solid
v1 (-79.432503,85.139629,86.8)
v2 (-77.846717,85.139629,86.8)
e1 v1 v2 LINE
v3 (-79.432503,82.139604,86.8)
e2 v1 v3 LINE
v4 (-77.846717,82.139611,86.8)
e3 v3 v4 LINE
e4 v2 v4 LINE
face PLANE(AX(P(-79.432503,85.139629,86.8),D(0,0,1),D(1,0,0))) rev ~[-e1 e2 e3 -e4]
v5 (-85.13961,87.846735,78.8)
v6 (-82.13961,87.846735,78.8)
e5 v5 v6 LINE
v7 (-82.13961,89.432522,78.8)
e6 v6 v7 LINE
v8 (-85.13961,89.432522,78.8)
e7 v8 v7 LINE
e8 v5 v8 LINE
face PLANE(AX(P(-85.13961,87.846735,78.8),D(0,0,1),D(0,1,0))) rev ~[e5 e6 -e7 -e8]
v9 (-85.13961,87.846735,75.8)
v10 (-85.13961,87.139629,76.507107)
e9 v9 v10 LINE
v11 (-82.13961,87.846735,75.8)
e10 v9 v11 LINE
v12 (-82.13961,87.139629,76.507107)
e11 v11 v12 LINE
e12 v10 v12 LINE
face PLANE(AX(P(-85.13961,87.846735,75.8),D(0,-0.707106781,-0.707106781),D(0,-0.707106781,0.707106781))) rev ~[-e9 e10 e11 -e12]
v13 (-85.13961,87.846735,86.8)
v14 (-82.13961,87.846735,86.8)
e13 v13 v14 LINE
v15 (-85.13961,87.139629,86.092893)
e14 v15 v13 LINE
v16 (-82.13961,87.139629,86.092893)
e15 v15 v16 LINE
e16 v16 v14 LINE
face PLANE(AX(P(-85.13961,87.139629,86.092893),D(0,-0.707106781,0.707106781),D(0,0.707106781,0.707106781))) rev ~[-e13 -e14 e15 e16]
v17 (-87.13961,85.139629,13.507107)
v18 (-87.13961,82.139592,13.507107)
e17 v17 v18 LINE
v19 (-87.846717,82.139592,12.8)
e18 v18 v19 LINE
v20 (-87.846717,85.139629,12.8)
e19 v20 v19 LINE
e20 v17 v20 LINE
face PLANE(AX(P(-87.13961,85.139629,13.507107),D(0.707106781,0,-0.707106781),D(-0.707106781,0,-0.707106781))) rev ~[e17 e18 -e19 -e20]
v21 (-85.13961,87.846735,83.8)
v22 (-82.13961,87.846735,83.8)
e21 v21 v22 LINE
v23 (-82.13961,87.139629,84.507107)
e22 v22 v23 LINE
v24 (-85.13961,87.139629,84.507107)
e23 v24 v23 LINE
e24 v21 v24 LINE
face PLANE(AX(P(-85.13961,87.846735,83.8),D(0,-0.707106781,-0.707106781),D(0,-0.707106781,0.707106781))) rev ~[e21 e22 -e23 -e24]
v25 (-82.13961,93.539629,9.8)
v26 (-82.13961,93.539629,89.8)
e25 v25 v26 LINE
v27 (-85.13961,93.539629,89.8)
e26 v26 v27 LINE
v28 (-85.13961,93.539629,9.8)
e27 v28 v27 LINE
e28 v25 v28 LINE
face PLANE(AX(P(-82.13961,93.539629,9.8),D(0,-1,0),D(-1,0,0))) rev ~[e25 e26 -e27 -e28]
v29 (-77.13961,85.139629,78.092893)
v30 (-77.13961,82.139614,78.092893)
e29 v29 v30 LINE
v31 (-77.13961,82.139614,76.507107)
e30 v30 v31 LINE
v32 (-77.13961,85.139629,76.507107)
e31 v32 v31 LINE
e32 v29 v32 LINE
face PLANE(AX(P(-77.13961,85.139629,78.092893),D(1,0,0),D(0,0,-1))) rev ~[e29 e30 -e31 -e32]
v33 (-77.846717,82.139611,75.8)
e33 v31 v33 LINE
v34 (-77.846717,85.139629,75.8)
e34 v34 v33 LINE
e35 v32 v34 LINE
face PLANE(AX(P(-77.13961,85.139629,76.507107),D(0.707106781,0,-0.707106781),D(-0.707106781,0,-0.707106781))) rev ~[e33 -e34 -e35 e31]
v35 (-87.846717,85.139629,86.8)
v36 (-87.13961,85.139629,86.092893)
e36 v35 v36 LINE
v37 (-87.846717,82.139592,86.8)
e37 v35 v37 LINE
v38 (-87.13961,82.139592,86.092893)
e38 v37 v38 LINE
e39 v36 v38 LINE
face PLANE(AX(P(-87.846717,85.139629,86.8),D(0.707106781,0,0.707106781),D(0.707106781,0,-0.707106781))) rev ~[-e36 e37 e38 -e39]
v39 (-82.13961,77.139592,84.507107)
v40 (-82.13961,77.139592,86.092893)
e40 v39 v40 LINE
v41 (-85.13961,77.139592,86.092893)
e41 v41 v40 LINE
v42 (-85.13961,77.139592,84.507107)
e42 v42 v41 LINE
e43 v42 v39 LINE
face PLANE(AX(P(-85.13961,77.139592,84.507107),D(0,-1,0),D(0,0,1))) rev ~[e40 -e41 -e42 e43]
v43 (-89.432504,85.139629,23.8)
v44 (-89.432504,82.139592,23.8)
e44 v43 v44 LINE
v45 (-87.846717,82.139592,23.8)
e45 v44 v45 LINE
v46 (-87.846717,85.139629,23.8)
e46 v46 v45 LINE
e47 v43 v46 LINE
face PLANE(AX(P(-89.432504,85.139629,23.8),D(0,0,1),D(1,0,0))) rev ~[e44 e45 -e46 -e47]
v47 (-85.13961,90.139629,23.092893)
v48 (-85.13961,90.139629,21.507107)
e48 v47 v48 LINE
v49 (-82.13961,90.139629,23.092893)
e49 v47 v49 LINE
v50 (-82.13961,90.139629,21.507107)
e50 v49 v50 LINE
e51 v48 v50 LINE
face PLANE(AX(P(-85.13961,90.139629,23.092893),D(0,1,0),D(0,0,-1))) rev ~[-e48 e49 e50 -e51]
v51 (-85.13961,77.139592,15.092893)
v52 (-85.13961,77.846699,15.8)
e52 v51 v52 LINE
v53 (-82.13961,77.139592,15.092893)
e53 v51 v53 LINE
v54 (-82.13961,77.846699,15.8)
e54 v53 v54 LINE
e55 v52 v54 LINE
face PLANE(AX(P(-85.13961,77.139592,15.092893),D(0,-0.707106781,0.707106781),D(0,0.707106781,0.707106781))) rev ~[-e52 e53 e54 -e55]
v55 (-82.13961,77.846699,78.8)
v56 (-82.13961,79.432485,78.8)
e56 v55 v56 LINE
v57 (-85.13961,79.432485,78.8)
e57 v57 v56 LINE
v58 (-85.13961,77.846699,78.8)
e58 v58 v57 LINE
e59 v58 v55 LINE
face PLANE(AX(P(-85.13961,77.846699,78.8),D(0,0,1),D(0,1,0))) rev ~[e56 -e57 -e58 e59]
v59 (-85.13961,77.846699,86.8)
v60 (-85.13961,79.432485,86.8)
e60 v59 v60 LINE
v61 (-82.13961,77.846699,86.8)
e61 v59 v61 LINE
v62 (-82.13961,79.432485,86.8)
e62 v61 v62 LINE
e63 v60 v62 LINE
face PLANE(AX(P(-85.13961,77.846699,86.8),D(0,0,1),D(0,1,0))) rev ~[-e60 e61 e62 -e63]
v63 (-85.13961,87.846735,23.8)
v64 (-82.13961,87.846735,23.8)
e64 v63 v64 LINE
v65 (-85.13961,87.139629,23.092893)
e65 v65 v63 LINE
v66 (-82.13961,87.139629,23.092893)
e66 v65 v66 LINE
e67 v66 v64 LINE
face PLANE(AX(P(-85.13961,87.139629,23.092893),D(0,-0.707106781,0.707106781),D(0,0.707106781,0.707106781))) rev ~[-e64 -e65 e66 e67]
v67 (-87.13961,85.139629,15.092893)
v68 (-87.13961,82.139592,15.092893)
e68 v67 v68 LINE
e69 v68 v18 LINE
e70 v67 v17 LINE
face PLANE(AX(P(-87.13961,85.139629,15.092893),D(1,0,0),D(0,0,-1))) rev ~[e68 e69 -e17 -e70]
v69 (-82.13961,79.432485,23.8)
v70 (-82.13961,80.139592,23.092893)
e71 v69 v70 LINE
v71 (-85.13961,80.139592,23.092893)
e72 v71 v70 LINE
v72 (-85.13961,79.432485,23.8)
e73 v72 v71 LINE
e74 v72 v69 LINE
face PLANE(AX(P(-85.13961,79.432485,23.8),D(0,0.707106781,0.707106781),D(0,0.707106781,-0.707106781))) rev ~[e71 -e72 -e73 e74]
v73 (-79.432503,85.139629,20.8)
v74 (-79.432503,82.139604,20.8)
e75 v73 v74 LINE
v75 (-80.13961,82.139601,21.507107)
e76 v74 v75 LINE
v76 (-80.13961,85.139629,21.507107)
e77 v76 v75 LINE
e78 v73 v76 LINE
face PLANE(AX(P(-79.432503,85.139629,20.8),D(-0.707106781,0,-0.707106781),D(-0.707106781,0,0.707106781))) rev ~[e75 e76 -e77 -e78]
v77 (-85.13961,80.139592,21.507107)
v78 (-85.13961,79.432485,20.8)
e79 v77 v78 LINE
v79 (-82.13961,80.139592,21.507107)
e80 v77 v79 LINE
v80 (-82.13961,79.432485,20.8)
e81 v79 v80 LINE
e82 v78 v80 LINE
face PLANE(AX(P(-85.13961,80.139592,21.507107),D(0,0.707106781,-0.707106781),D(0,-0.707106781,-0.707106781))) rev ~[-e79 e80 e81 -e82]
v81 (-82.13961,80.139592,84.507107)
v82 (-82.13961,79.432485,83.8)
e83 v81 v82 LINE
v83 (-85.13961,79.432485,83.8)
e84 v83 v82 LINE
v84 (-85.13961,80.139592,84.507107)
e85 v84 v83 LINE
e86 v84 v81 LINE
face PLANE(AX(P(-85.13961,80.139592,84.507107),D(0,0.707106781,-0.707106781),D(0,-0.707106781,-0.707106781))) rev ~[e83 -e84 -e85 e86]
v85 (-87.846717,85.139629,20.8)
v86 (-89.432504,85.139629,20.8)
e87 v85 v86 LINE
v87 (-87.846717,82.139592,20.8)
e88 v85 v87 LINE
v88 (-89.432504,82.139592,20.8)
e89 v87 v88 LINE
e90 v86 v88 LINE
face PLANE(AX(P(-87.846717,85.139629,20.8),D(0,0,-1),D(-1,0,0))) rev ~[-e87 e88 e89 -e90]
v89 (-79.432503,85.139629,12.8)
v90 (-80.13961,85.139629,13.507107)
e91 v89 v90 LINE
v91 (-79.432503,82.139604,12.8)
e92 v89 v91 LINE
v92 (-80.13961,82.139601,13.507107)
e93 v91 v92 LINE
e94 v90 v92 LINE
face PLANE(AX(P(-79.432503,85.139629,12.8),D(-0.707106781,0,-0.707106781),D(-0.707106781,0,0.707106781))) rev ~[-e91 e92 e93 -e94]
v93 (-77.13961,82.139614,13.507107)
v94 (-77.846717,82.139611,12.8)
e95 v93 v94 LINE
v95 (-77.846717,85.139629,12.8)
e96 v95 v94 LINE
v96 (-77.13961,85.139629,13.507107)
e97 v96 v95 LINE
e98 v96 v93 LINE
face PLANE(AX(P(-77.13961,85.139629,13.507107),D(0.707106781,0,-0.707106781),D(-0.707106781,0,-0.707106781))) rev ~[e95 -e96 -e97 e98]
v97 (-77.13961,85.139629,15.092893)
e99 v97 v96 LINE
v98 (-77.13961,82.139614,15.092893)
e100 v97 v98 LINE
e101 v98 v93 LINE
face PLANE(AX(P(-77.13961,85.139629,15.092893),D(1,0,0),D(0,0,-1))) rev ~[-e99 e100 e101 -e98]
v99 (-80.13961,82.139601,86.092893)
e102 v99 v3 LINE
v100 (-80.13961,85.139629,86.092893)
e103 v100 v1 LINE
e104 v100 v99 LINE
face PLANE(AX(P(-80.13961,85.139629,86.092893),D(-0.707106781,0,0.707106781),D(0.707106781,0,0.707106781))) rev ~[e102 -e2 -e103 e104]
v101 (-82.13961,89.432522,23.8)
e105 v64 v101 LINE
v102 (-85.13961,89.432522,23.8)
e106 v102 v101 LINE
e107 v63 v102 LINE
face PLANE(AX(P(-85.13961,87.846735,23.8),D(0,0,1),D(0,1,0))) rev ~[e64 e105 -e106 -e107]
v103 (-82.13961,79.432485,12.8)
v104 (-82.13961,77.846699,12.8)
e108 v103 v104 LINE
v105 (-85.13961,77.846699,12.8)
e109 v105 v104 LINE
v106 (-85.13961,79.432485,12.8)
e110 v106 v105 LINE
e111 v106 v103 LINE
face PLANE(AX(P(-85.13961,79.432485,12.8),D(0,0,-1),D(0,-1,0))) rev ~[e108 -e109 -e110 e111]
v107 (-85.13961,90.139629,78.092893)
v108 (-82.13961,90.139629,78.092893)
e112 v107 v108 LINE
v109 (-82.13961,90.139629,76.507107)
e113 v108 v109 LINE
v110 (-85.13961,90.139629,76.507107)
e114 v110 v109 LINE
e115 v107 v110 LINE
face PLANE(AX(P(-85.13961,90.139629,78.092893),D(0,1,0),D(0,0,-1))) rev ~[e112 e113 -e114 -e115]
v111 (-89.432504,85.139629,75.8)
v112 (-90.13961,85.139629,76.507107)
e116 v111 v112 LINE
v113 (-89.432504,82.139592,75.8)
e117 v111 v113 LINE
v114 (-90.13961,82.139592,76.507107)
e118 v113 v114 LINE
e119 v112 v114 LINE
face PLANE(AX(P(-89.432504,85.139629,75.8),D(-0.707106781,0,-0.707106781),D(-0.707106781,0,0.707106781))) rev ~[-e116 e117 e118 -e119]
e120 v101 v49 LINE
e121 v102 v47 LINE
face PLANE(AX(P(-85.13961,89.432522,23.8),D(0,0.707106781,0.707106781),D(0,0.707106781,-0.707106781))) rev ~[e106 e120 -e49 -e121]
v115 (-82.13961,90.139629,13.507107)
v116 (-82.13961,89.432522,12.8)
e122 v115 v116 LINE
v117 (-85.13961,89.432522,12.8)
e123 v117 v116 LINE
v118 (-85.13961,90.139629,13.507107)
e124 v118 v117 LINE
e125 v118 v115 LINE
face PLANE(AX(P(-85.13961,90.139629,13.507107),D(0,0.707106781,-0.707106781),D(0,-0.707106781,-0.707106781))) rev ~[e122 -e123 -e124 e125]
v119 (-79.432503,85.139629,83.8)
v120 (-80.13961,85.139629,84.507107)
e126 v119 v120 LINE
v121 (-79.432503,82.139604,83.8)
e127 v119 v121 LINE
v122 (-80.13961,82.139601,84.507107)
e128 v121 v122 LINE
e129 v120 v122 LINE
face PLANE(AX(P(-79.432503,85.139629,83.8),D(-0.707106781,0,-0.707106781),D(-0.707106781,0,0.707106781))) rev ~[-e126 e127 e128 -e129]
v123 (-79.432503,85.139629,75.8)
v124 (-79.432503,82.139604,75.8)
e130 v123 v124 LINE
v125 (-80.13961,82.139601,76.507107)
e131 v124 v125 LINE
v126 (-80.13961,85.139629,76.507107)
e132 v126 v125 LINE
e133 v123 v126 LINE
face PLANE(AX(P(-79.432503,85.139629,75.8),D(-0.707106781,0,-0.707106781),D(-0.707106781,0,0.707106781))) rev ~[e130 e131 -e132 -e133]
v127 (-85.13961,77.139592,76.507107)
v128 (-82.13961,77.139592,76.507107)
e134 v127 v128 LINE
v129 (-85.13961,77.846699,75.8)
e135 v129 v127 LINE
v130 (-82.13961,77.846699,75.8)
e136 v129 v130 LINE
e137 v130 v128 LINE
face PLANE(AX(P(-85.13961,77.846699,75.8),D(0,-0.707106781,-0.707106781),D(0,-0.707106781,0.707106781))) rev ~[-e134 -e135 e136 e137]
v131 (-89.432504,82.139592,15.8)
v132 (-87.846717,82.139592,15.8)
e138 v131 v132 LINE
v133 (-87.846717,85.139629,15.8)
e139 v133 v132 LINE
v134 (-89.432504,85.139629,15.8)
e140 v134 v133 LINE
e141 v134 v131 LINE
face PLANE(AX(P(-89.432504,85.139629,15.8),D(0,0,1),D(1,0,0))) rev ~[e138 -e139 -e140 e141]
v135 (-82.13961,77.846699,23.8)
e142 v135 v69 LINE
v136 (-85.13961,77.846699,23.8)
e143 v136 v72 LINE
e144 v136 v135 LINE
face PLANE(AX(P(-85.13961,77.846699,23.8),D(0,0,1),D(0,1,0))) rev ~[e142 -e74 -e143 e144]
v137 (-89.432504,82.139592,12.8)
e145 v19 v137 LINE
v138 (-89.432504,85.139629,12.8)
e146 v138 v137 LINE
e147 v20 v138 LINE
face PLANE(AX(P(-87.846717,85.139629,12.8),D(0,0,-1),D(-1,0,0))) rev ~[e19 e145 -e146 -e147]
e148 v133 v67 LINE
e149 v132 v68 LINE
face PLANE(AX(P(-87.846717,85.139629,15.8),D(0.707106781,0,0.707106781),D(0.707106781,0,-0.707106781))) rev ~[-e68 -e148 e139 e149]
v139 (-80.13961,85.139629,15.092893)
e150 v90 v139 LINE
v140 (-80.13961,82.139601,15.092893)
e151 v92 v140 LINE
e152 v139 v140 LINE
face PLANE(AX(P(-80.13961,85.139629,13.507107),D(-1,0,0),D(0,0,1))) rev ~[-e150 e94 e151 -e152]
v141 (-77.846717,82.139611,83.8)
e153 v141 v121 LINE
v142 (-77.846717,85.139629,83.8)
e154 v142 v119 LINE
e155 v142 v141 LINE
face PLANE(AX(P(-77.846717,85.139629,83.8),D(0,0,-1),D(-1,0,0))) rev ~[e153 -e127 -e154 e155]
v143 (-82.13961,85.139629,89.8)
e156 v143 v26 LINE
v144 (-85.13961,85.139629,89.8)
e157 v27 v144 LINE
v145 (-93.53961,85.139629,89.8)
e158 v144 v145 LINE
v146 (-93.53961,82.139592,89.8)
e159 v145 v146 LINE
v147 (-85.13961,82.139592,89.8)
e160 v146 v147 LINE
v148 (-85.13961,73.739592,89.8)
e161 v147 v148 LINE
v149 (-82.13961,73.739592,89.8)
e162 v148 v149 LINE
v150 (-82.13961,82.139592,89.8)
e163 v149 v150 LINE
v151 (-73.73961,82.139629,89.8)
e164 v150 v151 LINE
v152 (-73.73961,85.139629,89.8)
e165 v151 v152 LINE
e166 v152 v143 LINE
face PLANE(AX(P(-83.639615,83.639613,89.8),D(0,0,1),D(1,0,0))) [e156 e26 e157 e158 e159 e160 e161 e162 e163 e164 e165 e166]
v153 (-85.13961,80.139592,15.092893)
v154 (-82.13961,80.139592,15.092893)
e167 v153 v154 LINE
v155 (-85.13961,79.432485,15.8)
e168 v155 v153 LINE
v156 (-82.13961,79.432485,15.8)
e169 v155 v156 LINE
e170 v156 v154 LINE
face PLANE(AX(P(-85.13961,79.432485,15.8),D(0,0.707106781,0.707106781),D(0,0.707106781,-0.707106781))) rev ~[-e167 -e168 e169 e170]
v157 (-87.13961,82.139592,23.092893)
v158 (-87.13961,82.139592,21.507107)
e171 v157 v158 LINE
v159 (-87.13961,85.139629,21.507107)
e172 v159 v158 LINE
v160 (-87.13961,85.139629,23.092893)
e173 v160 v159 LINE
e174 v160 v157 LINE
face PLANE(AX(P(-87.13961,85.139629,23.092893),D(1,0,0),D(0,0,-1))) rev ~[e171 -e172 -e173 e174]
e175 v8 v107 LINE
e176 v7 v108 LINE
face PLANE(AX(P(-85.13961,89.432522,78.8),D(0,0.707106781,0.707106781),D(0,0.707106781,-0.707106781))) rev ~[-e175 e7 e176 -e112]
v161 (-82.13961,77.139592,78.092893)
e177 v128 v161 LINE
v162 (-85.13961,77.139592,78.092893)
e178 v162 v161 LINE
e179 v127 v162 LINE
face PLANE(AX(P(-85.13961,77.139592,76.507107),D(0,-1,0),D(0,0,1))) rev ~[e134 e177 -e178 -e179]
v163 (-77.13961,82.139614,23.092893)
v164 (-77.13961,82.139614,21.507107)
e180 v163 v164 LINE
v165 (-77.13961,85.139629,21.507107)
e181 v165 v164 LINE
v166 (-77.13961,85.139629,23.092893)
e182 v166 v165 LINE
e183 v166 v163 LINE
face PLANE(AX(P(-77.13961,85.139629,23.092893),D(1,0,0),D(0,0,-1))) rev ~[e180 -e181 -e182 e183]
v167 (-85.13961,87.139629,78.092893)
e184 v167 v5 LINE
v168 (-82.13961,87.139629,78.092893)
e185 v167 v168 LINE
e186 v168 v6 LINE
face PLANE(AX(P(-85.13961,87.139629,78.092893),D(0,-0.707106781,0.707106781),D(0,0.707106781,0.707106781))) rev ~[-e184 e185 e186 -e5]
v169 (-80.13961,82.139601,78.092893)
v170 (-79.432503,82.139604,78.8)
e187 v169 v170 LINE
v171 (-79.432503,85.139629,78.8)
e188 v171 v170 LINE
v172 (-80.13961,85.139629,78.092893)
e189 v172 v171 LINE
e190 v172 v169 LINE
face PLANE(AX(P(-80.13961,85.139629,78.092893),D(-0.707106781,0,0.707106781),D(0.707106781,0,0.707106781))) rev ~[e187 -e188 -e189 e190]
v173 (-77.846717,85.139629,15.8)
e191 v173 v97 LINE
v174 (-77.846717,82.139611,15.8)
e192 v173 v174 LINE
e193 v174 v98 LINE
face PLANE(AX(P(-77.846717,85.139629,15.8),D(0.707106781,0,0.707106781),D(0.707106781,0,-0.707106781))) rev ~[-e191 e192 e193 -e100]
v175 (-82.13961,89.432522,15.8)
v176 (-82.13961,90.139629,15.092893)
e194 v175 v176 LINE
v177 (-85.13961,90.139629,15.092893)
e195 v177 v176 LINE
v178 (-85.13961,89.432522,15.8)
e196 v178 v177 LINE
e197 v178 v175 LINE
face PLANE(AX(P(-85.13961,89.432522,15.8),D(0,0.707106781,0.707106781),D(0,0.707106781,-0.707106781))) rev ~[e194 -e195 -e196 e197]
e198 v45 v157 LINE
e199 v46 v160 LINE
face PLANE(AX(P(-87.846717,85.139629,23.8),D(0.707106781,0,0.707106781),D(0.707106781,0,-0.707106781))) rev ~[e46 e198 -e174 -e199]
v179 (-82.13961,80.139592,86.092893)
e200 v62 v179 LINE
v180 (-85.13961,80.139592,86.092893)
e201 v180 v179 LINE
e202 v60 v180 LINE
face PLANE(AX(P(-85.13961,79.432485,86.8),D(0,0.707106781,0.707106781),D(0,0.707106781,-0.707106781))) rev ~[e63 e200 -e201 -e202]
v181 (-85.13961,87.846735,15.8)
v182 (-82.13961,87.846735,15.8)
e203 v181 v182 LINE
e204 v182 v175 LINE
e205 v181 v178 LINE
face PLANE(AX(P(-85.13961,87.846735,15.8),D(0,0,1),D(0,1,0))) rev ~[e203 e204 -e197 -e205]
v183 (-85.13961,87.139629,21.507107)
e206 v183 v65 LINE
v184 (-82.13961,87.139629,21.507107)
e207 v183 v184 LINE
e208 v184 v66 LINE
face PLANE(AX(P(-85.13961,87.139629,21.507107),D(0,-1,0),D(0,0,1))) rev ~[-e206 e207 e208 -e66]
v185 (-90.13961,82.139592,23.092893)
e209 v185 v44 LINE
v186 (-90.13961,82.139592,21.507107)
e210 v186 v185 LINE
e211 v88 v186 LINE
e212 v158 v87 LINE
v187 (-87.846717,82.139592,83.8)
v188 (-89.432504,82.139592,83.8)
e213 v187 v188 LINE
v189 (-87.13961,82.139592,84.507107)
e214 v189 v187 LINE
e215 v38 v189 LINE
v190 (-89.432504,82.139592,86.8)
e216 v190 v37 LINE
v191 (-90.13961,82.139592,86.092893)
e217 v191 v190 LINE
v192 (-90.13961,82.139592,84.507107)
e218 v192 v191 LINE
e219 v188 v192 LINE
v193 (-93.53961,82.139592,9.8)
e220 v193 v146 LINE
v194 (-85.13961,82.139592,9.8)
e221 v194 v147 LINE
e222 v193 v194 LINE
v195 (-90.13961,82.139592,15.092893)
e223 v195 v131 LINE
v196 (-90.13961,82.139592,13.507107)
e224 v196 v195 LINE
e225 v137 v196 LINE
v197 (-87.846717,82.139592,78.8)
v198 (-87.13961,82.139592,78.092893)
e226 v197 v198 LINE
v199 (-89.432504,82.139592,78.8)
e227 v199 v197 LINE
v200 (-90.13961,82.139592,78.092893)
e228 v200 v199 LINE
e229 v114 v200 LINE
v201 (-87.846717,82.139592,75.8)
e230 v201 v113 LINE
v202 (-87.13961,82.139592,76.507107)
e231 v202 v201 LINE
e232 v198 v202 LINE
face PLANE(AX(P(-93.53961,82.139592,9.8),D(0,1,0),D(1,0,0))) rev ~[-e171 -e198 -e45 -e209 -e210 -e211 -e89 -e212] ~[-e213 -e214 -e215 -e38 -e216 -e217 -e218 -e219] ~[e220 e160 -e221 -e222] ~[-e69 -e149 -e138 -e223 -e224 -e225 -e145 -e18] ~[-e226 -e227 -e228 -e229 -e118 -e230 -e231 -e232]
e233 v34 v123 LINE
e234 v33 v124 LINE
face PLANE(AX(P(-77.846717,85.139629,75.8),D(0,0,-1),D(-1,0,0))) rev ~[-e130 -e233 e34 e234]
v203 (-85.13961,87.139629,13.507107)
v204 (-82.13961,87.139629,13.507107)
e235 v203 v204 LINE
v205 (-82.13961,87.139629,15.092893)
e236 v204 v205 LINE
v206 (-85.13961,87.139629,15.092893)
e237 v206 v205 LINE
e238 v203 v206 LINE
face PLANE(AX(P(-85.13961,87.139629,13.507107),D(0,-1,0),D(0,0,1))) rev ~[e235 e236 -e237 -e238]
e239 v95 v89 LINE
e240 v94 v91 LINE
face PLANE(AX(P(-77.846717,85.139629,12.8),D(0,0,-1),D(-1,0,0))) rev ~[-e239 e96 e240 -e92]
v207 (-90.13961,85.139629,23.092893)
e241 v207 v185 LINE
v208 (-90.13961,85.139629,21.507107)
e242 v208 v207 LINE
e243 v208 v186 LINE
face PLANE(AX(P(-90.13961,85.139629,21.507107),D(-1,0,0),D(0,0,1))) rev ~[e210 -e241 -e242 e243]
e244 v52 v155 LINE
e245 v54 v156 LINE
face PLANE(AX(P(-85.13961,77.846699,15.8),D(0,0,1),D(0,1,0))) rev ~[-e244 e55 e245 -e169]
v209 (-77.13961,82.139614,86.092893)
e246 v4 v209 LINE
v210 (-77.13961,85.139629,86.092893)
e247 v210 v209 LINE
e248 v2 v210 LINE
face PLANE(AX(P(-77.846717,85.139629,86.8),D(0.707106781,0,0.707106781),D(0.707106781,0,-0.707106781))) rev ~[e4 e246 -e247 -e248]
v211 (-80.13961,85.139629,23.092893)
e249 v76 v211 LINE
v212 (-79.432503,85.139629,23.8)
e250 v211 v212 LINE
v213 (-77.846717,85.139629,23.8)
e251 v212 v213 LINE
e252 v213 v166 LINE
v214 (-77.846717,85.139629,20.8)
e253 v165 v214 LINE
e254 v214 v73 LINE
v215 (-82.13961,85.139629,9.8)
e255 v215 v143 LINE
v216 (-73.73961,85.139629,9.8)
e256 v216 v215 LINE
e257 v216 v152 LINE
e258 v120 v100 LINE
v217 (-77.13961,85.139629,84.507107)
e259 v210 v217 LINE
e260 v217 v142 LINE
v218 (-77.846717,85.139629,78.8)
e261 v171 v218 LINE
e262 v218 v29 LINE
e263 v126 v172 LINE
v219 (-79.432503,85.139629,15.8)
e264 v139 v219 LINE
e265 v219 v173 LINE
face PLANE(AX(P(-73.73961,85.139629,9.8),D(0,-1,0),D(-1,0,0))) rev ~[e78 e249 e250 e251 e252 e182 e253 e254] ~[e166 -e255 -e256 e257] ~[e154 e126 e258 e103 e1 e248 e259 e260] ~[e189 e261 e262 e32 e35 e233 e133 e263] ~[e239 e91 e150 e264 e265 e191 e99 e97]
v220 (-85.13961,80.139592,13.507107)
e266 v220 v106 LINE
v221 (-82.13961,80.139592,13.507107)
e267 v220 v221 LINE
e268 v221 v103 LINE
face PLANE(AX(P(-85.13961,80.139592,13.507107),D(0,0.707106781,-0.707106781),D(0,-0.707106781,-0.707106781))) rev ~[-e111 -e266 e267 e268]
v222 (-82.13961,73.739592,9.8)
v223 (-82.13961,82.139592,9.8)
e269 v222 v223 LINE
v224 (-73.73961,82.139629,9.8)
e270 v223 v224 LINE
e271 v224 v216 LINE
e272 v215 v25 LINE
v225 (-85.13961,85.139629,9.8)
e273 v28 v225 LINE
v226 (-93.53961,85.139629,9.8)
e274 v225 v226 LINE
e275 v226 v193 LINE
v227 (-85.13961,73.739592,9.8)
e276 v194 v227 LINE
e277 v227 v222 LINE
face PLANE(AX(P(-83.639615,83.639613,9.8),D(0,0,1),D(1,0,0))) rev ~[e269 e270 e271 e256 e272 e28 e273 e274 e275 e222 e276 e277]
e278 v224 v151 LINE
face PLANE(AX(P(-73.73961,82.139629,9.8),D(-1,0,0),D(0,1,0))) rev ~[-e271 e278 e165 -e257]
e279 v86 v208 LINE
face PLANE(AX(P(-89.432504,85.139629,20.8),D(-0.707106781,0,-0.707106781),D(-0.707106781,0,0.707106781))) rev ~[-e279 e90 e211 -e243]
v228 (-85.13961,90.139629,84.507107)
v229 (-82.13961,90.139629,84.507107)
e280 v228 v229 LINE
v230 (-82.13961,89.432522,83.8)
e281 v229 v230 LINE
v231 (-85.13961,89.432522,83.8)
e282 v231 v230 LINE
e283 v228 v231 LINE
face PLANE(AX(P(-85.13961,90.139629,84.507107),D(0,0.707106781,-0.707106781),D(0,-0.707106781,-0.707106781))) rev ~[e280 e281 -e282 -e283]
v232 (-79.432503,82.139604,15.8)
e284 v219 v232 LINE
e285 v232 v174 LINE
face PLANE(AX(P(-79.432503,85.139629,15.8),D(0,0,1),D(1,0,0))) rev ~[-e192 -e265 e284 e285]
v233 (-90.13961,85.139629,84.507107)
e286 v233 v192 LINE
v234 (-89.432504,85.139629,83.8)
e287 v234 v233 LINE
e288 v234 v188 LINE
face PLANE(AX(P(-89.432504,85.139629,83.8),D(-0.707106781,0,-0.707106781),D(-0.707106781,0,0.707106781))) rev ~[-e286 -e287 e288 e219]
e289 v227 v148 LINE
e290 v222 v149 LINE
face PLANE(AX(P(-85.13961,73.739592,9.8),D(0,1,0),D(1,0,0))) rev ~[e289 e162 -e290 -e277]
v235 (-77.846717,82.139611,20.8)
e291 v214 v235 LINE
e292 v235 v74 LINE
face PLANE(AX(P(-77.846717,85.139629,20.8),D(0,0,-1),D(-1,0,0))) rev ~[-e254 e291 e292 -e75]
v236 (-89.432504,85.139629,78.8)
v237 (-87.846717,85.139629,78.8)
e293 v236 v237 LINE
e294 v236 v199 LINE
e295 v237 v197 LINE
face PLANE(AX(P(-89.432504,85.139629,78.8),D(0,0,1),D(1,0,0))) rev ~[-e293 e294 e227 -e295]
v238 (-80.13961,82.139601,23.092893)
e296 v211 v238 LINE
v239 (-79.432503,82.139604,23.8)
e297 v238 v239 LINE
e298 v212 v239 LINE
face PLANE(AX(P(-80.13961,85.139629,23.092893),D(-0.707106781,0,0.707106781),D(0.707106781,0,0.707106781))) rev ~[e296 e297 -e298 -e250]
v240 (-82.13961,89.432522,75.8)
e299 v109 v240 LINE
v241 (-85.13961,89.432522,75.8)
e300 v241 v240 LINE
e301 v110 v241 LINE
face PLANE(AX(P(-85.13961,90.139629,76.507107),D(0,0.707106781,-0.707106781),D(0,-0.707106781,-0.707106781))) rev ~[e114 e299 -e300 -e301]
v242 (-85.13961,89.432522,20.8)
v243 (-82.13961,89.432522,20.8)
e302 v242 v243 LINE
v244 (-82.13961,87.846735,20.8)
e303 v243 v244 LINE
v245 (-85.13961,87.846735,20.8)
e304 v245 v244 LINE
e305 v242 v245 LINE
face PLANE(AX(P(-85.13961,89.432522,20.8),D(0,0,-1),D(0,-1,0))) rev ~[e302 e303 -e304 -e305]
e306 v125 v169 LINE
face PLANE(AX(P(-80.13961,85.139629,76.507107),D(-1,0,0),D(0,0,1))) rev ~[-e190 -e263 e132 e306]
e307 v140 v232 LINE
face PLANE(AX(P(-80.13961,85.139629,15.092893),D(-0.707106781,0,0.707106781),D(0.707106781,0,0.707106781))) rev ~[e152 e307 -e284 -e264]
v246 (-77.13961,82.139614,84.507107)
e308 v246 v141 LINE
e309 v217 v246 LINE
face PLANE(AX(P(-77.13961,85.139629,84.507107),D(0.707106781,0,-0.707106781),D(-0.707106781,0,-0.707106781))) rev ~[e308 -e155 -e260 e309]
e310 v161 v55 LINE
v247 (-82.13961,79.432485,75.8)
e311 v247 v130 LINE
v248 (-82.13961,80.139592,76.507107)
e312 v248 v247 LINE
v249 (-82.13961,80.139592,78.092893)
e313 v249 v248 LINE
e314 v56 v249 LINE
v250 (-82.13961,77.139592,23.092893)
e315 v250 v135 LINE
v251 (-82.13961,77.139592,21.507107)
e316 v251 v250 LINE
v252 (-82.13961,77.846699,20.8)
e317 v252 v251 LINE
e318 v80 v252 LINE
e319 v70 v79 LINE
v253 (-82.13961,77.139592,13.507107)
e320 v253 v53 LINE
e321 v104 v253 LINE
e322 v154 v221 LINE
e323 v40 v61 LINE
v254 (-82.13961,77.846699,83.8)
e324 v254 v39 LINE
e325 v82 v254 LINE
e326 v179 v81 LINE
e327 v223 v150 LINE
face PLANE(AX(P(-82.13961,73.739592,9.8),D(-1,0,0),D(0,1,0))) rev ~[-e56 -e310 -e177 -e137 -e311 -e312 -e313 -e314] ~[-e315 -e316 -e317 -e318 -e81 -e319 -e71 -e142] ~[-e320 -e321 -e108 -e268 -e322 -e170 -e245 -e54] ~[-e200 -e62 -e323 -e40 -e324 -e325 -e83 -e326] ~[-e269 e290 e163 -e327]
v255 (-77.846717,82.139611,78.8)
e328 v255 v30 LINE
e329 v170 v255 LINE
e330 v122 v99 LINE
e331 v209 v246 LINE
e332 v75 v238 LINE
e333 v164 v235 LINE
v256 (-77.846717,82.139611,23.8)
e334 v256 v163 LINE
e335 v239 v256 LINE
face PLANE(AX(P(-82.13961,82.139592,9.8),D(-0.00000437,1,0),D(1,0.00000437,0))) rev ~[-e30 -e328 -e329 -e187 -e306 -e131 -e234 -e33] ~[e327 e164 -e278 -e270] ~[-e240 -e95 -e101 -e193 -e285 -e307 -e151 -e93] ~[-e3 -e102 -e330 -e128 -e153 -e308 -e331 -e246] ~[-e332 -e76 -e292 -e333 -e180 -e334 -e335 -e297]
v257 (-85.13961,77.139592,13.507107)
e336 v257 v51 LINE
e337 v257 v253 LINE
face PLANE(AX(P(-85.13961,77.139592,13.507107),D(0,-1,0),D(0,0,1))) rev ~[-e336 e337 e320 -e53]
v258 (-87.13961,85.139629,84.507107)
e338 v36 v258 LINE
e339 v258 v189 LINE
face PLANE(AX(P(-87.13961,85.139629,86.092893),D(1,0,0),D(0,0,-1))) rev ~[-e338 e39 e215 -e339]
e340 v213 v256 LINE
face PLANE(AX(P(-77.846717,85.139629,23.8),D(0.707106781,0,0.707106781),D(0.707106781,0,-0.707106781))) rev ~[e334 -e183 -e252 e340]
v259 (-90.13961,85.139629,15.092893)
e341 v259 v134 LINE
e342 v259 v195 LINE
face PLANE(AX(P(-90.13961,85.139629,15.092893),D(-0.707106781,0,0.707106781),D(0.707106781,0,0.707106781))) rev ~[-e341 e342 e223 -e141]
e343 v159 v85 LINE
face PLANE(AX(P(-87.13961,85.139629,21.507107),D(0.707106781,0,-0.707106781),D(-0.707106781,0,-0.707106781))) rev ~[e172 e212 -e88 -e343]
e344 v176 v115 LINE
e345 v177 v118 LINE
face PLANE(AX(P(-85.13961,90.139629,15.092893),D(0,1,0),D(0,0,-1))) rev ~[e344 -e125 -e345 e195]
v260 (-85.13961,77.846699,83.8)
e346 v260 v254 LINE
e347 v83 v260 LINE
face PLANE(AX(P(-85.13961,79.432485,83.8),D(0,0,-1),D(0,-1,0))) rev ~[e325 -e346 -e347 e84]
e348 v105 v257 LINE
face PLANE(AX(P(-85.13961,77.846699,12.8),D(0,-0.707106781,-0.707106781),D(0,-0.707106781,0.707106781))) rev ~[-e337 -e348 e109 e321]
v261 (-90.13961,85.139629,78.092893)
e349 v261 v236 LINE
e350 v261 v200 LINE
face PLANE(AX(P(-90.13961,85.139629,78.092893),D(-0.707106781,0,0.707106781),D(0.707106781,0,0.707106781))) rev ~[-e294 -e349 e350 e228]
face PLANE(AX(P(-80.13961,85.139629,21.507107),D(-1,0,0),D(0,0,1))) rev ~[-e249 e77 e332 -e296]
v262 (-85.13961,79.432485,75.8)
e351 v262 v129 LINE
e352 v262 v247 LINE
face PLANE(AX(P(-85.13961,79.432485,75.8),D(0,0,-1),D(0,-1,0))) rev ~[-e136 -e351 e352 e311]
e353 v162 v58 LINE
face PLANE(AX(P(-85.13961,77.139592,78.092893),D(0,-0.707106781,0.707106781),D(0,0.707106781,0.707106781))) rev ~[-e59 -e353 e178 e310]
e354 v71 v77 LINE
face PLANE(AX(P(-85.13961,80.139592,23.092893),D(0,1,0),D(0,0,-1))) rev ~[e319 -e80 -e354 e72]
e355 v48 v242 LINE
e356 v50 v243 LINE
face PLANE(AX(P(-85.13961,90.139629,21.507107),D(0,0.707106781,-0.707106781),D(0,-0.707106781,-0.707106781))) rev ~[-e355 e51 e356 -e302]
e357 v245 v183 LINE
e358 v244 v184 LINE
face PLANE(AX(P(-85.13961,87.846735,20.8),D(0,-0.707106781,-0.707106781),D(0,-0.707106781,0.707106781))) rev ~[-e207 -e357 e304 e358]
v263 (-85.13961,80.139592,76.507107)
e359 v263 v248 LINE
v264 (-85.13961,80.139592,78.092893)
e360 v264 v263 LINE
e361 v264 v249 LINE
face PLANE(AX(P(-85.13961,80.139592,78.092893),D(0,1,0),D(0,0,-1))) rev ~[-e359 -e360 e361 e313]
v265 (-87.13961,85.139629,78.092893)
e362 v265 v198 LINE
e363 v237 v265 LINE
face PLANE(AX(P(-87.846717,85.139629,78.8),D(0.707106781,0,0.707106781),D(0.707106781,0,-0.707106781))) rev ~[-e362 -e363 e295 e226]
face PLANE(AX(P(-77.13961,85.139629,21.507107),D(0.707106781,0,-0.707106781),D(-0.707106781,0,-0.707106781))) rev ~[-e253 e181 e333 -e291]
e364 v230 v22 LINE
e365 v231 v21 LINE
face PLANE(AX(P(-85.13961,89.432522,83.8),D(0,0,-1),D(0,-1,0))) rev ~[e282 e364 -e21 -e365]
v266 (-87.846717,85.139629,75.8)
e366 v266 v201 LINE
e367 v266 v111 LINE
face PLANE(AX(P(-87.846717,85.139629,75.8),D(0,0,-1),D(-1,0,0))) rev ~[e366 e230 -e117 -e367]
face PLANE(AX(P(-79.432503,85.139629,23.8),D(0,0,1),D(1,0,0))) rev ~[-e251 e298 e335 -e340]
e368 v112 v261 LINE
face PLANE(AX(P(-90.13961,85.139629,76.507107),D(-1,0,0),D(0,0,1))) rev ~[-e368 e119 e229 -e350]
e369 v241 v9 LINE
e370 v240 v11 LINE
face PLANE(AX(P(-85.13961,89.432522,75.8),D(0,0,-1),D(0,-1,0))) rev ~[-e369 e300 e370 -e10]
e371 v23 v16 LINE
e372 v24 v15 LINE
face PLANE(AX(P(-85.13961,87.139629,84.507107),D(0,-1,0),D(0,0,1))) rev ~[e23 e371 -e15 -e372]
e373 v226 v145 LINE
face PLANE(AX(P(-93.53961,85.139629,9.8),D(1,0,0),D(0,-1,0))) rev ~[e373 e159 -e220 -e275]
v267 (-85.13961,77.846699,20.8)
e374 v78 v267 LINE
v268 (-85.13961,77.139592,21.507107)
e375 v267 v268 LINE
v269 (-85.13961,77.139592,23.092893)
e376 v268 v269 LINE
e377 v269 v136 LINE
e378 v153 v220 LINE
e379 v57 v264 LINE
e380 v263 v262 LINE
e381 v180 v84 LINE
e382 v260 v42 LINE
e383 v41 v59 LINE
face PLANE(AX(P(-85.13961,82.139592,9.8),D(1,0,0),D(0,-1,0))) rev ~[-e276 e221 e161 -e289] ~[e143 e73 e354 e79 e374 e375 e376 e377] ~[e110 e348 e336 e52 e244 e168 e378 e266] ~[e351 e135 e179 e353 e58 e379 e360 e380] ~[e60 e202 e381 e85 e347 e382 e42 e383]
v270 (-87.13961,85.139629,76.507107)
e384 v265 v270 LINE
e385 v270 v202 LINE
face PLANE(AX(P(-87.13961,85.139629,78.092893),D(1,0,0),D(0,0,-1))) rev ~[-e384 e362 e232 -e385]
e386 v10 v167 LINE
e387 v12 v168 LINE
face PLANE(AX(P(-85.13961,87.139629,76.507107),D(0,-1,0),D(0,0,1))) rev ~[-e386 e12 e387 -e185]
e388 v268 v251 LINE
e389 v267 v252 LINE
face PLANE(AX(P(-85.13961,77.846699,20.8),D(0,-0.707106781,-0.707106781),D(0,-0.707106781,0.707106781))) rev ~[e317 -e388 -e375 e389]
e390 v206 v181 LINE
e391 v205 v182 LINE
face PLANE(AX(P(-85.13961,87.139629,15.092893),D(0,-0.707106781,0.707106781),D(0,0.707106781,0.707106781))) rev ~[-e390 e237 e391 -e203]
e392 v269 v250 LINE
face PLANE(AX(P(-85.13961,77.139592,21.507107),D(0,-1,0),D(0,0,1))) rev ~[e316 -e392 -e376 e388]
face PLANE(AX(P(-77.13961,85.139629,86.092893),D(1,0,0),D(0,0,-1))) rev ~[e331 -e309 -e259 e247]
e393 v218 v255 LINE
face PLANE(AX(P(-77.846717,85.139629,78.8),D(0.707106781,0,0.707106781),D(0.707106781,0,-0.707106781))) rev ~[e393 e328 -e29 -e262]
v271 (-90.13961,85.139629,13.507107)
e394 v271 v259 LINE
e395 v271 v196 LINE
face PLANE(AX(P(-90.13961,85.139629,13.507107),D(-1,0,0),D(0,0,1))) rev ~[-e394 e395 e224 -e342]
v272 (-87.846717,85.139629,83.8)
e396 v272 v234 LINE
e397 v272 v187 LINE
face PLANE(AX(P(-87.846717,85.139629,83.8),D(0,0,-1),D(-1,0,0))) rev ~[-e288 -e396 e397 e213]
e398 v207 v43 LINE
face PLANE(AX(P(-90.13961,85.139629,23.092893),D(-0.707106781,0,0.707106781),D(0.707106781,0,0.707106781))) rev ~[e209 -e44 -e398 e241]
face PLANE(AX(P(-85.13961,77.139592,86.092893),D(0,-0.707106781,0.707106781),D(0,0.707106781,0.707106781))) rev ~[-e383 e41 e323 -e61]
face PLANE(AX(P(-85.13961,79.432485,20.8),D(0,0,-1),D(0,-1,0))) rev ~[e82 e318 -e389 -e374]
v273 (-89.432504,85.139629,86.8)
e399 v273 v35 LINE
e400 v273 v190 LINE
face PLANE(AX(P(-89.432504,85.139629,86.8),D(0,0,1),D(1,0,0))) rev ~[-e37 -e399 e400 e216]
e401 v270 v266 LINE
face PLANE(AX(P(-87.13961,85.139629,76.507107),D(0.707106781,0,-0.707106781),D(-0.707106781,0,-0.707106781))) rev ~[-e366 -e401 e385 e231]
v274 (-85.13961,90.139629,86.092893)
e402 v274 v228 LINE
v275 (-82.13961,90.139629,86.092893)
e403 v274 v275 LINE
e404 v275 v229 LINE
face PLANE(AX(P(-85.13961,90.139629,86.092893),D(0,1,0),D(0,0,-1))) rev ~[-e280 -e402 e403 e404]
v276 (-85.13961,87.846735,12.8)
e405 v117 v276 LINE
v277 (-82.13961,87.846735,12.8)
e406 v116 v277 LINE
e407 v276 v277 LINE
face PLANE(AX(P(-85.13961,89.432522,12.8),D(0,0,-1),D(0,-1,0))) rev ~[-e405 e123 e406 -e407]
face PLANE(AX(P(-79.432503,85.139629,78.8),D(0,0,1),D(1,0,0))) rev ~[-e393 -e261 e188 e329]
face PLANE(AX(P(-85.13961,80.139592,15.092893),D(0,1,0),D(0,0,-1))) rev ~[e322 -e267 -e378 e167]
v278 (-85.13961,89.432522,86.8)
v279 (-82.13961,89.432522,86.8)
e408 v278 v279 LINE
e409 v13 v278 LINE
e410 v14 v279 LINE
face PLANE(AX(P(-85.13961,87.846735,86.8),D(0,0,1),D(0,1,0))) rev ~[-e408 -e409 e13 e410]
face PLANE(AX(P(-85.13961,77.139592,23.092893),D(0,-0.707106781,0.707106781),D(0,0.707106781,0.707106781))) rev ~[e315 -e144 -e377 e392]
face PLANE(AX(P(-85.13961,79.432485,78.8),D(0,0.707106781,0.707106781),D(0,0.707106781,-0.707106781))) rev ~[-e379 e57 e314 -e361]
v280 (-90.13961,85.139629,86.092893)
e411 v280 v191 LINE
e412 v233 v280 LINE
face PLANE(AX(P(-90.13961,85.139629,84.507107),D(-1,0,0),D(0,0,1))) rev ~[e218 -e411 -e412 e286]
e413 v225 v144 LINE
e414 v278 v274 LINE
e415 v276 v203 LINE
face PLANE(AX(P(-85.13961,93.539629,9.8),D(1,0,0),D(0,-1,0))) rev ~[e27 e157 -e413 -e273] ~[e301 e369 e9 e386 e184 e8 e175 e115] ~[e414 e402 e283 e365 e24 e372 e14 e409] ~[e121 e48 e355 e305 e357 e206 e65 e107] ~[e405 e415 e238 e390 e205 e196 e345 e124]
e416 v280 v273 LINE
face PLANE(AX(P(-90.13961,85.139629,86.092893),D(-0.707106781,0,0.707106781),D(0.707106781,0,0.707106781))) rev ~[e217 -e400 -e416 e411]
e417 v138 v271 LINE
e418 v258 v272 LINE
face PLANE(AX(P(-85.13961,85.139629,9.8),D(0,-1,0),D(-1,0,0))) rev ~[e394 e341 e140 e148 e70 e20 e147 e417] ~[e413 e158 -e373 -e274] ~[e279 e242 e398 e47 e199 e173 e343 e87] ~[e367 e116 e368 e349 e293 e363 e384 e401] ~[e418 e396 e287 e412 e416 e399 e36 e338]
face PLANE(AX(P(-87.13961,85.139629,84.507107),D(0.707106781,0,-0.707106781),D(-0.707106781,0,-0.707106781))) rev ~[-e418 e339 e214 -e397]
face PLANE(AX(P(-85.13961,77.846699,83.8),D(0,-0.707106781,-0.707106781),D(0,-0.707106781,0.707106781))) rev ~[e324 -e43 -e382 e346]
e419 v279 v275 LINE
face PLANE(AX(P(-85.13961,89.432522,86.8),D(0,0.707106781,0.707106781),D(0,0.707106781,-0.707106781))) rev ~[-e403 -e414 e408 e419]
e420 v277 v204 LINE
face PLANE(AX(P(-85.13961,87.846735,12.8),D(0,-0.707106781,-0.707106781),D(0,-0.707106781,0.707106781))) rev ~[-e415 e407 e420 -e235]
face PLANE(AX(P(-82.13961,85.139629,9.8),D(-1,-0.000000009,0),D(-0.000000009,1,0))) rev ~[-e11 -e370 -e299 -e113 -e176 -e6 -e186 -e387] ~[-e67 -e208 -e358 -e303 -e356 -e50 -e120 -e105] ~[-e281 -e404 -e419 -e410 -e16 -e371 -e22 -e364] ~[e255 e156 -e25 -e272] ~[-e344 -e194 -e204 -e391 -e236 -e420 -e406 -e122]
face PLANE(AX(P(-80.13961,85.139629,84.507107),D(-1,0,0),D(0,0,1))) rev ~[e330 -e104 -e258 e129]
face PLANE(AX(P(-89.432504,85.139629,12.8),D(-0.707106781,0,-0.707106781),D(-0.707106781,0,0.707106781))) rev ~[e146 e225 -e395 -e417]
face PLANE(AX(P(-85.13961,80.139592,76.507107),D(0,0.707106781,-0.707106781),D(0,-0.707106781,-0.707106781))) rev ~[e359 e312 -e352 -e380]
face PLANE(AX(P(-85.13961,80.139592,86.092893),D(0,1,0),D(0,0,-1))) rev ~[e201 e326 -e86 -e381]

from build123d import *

# Parameters (mm, degrees)
PAD038_DEPTH    = 80
POCKET025_DEPTH = 11.4010000384
POCKET026_DEPTH = 11.4010366708


with BuildPart() as part:
    # Sketch063 (on Face65 of Binder012) → Pad038 (new body)
    with BuildSketch(Plane.XY.offset(9.8)):
        Polygon((-93.5396103068, 82.1395919522), (-85.1396103452, 82.1395919522), (-85.1396103452, 73.7395919906), (-82.1396102684, 73.7395919906), (-82.1396102684, 82.1395919522), (-73.7396103068, 82.1396286614), (-73.7396103068, 85.1396286614), (-82.1396102684, 85.1396286614), (-82.1396103452, 93.539628623), (-85.1396103452, 93.539628623), (-85.1396103452, 85.1396286614), (-93.5396103068, 85.1396286614), align=None)
    extrude(amount=PAD038_DEPTH)

    # Sketch064 (on Face2 of Pad038) → Pocket025 (cut, through all)
    with BuildSketch(Plane(origin=(-85.1396103452, 0, 0), x_dir=(0, -1, 0), z_dir=(-1, 0, 0))):
        Polygon((-87.1396286614, 13.5071067812), (-87.1396286614, 15.0928932188), (-87.8467354426, 15.8), (-89.4325218802, 15.8), (-90.1396286614, 15.0928932188), (-90.1396286614, 13.5071067812), (-89.4325218802, 12.8), (-87.8467354426, 12.8), align=None)
        Polygon((-79.432485171, 12.8), (-77.8466987333, 12.8), (-77.1395919522, 13.5071067812), (-77.1395919522, 15.0928932188), (-77.8466987333, 15.8), (-79.432485171, 15.8), (-80.1395919522, 15.0928932188), (-80.1395919522, 13.5071067812), align=None)
        Polygon((-89.4325218802, 20.8), (-87.8467354426, 20.8), (-87.1396286614, 21.5071067812), (-87.1396286614, 23.0928932188), (-87.8467354426, 23.8), (-89.4325218802, 23.8), (-90.1396286614, 23.0928932188), (-90.1396286614, 21.5071067812), align=None)
        Polygon((-79.432485171, 20.8), (-77.8466987333, 20.8), (-77.1395919522, 21.5071067812), (-77.1395919522, 23.0928932188), (-77.8466987333, 23.8), (-79.432485171, 23.8), (-80.1395919522, 23.0928932188), (-80.1395919522, 21.5071067812), align=None)
        Polygon((-90.1396286614, 86.0928932188), (-90.1396286614, 84.5071067812), (-89.4325218802, 83.8), (-87.8467354426, 83.8), (-87.1396286614, 84.5071067812), (-87.1396286614, 86.0928932188), (-87.8467354426, 86.8), (-89.4325218802, 86.8), align=None)
        Polygon((-80.1395919522, 86.0928932188), (-80.1395919522, 84.5071067812), (-79.432485171, 83.8), (-77.8466987333, 83.8), (-77.1395919522, 84.5071067812), (-77.1395919522, 86.0928932188), (-77.8466987333, 86.8), (-79.432485171, 86.8), align=None)
        Polygon((-90.1396286614, 78.0928932188), (-90.1396286614, 76.5071067812), (-89.4325218802, 75.8), (-87.8467354426, 75.8), (-87.1396286614, 76.5071067812), (-87.1396286614, 78.0928932188), (-87.8467354426, 78.8), (-89.4325218802, 78.8), align=None)
        Polygon((-80.1395919522, 78.0928932188), (-80.1395919522, 76.5071067812), (-79.432485171, 75.8), (-77.8466987333, 75.8), (-77.1395919522, 76.5071067812), (-77.1395919522, 78.0928932188), (-77.8466987333, 78.8), (-79.432485171, 78.8), align=None)
    extrude(amount=-POCKET025_DEPTH, mode=Mode.SUBTRACT)

    # Sketch065 (on Face6 of Pocket025) → Pocket026 (cut, through all)
    with BuildSketch(Plane(origin=(0, 85.1396286614, 0), x_dir=(-1, 0, 0), z_dir=(0, 1, 0))):
        Polygon((87.1396103452, 15.0928932188), (87.1396103452, 13.5071067812), (87.8467171264, 12.8), (89.432503564, 12.8), (90.1396103452, 13.5071067812), (90.1396103452, 15.0928932188), (89.432503564, 15.8), (87.8467171264, 15.8), align=None)
        Polygon((87.1396103452, 23.0928932188), (87.1396103452, 21.5071067812), (87.8467171264, 20.8), (89.432503564, 20.8), (90.1396103452, 21.5071067812), (90.1396103452, 23.0928932188), (89.432503564, 23.8), (87.8467171264, 23.8), align=None)
        Polygon((79.4325034872, 15.8), (77.8467170496, 15.8), (77.1396102684, 15.0928932188), (77.1396102684, 13.5071067812), (77.8467170496, 12.8), (79.4325034872, 12.8), (80.1396102684, 13.5071067812), (80.1396102684, 15.0928932188), align=None)
        Polygon((79.4325034872, 23.8), (77.8467170496, 23.8), (77.1396102684, 23.0928932188), (77.1396102684, 21.5071067812), (77.8467170496, 20.8), (79.4325034872, 20.8), (80.1396102684, 21.5071067812), (80.1396102684, 23.0928932188), align=None)
        Polygon((77.1396102684, 86.0928932188), (77.1396102684, 84.5071067812), (77.8467170496, 83.8), (79.4325034872, 83.8), (80.1396102684, 84.5071067812), (80.1396102684, 86.0928932188), (79.4325034872, 86.8), (77.8467170496, 86.8), align=None)
        Polygon((87.1396103452, 86.0928932188), (87.1396103452, 84.5071067812), (87.8467171264, 83.8), (89.432503564, 83.8), (90.1396103452, 84.5071067812), (90.1396103452, 86.0928932188), (89.432503564, 86.8), (87.8467171264, 86.8), align=None)
        Polygon((77.1396102684, 78.0928932188), (77.1396102684, 76.5071067812), (77.8467170496, 75.8), (79.4325034872, 75.8), (80.1396102684, 76.5071067812), (80.1396102684, 78.0928932188), (79.4325034872, 78.8), (77.8467170496, 78.8), align=None)
        Polygon((87.1396103452, 78.0928932188), (87.1396103452, 76.5071067812), (87.8467171264, 75.8), (89.432503564, 75.8), (90.1396103452, 76.5071067812), (90.1396103452, 78.0928932188), (89.432503564, 78.8), (87.8467171264, 78.8), align=None)
    extrude(amount=-POCKET026_DEPTH, mode=Mode.SUBTRACT)


solid = part.part
